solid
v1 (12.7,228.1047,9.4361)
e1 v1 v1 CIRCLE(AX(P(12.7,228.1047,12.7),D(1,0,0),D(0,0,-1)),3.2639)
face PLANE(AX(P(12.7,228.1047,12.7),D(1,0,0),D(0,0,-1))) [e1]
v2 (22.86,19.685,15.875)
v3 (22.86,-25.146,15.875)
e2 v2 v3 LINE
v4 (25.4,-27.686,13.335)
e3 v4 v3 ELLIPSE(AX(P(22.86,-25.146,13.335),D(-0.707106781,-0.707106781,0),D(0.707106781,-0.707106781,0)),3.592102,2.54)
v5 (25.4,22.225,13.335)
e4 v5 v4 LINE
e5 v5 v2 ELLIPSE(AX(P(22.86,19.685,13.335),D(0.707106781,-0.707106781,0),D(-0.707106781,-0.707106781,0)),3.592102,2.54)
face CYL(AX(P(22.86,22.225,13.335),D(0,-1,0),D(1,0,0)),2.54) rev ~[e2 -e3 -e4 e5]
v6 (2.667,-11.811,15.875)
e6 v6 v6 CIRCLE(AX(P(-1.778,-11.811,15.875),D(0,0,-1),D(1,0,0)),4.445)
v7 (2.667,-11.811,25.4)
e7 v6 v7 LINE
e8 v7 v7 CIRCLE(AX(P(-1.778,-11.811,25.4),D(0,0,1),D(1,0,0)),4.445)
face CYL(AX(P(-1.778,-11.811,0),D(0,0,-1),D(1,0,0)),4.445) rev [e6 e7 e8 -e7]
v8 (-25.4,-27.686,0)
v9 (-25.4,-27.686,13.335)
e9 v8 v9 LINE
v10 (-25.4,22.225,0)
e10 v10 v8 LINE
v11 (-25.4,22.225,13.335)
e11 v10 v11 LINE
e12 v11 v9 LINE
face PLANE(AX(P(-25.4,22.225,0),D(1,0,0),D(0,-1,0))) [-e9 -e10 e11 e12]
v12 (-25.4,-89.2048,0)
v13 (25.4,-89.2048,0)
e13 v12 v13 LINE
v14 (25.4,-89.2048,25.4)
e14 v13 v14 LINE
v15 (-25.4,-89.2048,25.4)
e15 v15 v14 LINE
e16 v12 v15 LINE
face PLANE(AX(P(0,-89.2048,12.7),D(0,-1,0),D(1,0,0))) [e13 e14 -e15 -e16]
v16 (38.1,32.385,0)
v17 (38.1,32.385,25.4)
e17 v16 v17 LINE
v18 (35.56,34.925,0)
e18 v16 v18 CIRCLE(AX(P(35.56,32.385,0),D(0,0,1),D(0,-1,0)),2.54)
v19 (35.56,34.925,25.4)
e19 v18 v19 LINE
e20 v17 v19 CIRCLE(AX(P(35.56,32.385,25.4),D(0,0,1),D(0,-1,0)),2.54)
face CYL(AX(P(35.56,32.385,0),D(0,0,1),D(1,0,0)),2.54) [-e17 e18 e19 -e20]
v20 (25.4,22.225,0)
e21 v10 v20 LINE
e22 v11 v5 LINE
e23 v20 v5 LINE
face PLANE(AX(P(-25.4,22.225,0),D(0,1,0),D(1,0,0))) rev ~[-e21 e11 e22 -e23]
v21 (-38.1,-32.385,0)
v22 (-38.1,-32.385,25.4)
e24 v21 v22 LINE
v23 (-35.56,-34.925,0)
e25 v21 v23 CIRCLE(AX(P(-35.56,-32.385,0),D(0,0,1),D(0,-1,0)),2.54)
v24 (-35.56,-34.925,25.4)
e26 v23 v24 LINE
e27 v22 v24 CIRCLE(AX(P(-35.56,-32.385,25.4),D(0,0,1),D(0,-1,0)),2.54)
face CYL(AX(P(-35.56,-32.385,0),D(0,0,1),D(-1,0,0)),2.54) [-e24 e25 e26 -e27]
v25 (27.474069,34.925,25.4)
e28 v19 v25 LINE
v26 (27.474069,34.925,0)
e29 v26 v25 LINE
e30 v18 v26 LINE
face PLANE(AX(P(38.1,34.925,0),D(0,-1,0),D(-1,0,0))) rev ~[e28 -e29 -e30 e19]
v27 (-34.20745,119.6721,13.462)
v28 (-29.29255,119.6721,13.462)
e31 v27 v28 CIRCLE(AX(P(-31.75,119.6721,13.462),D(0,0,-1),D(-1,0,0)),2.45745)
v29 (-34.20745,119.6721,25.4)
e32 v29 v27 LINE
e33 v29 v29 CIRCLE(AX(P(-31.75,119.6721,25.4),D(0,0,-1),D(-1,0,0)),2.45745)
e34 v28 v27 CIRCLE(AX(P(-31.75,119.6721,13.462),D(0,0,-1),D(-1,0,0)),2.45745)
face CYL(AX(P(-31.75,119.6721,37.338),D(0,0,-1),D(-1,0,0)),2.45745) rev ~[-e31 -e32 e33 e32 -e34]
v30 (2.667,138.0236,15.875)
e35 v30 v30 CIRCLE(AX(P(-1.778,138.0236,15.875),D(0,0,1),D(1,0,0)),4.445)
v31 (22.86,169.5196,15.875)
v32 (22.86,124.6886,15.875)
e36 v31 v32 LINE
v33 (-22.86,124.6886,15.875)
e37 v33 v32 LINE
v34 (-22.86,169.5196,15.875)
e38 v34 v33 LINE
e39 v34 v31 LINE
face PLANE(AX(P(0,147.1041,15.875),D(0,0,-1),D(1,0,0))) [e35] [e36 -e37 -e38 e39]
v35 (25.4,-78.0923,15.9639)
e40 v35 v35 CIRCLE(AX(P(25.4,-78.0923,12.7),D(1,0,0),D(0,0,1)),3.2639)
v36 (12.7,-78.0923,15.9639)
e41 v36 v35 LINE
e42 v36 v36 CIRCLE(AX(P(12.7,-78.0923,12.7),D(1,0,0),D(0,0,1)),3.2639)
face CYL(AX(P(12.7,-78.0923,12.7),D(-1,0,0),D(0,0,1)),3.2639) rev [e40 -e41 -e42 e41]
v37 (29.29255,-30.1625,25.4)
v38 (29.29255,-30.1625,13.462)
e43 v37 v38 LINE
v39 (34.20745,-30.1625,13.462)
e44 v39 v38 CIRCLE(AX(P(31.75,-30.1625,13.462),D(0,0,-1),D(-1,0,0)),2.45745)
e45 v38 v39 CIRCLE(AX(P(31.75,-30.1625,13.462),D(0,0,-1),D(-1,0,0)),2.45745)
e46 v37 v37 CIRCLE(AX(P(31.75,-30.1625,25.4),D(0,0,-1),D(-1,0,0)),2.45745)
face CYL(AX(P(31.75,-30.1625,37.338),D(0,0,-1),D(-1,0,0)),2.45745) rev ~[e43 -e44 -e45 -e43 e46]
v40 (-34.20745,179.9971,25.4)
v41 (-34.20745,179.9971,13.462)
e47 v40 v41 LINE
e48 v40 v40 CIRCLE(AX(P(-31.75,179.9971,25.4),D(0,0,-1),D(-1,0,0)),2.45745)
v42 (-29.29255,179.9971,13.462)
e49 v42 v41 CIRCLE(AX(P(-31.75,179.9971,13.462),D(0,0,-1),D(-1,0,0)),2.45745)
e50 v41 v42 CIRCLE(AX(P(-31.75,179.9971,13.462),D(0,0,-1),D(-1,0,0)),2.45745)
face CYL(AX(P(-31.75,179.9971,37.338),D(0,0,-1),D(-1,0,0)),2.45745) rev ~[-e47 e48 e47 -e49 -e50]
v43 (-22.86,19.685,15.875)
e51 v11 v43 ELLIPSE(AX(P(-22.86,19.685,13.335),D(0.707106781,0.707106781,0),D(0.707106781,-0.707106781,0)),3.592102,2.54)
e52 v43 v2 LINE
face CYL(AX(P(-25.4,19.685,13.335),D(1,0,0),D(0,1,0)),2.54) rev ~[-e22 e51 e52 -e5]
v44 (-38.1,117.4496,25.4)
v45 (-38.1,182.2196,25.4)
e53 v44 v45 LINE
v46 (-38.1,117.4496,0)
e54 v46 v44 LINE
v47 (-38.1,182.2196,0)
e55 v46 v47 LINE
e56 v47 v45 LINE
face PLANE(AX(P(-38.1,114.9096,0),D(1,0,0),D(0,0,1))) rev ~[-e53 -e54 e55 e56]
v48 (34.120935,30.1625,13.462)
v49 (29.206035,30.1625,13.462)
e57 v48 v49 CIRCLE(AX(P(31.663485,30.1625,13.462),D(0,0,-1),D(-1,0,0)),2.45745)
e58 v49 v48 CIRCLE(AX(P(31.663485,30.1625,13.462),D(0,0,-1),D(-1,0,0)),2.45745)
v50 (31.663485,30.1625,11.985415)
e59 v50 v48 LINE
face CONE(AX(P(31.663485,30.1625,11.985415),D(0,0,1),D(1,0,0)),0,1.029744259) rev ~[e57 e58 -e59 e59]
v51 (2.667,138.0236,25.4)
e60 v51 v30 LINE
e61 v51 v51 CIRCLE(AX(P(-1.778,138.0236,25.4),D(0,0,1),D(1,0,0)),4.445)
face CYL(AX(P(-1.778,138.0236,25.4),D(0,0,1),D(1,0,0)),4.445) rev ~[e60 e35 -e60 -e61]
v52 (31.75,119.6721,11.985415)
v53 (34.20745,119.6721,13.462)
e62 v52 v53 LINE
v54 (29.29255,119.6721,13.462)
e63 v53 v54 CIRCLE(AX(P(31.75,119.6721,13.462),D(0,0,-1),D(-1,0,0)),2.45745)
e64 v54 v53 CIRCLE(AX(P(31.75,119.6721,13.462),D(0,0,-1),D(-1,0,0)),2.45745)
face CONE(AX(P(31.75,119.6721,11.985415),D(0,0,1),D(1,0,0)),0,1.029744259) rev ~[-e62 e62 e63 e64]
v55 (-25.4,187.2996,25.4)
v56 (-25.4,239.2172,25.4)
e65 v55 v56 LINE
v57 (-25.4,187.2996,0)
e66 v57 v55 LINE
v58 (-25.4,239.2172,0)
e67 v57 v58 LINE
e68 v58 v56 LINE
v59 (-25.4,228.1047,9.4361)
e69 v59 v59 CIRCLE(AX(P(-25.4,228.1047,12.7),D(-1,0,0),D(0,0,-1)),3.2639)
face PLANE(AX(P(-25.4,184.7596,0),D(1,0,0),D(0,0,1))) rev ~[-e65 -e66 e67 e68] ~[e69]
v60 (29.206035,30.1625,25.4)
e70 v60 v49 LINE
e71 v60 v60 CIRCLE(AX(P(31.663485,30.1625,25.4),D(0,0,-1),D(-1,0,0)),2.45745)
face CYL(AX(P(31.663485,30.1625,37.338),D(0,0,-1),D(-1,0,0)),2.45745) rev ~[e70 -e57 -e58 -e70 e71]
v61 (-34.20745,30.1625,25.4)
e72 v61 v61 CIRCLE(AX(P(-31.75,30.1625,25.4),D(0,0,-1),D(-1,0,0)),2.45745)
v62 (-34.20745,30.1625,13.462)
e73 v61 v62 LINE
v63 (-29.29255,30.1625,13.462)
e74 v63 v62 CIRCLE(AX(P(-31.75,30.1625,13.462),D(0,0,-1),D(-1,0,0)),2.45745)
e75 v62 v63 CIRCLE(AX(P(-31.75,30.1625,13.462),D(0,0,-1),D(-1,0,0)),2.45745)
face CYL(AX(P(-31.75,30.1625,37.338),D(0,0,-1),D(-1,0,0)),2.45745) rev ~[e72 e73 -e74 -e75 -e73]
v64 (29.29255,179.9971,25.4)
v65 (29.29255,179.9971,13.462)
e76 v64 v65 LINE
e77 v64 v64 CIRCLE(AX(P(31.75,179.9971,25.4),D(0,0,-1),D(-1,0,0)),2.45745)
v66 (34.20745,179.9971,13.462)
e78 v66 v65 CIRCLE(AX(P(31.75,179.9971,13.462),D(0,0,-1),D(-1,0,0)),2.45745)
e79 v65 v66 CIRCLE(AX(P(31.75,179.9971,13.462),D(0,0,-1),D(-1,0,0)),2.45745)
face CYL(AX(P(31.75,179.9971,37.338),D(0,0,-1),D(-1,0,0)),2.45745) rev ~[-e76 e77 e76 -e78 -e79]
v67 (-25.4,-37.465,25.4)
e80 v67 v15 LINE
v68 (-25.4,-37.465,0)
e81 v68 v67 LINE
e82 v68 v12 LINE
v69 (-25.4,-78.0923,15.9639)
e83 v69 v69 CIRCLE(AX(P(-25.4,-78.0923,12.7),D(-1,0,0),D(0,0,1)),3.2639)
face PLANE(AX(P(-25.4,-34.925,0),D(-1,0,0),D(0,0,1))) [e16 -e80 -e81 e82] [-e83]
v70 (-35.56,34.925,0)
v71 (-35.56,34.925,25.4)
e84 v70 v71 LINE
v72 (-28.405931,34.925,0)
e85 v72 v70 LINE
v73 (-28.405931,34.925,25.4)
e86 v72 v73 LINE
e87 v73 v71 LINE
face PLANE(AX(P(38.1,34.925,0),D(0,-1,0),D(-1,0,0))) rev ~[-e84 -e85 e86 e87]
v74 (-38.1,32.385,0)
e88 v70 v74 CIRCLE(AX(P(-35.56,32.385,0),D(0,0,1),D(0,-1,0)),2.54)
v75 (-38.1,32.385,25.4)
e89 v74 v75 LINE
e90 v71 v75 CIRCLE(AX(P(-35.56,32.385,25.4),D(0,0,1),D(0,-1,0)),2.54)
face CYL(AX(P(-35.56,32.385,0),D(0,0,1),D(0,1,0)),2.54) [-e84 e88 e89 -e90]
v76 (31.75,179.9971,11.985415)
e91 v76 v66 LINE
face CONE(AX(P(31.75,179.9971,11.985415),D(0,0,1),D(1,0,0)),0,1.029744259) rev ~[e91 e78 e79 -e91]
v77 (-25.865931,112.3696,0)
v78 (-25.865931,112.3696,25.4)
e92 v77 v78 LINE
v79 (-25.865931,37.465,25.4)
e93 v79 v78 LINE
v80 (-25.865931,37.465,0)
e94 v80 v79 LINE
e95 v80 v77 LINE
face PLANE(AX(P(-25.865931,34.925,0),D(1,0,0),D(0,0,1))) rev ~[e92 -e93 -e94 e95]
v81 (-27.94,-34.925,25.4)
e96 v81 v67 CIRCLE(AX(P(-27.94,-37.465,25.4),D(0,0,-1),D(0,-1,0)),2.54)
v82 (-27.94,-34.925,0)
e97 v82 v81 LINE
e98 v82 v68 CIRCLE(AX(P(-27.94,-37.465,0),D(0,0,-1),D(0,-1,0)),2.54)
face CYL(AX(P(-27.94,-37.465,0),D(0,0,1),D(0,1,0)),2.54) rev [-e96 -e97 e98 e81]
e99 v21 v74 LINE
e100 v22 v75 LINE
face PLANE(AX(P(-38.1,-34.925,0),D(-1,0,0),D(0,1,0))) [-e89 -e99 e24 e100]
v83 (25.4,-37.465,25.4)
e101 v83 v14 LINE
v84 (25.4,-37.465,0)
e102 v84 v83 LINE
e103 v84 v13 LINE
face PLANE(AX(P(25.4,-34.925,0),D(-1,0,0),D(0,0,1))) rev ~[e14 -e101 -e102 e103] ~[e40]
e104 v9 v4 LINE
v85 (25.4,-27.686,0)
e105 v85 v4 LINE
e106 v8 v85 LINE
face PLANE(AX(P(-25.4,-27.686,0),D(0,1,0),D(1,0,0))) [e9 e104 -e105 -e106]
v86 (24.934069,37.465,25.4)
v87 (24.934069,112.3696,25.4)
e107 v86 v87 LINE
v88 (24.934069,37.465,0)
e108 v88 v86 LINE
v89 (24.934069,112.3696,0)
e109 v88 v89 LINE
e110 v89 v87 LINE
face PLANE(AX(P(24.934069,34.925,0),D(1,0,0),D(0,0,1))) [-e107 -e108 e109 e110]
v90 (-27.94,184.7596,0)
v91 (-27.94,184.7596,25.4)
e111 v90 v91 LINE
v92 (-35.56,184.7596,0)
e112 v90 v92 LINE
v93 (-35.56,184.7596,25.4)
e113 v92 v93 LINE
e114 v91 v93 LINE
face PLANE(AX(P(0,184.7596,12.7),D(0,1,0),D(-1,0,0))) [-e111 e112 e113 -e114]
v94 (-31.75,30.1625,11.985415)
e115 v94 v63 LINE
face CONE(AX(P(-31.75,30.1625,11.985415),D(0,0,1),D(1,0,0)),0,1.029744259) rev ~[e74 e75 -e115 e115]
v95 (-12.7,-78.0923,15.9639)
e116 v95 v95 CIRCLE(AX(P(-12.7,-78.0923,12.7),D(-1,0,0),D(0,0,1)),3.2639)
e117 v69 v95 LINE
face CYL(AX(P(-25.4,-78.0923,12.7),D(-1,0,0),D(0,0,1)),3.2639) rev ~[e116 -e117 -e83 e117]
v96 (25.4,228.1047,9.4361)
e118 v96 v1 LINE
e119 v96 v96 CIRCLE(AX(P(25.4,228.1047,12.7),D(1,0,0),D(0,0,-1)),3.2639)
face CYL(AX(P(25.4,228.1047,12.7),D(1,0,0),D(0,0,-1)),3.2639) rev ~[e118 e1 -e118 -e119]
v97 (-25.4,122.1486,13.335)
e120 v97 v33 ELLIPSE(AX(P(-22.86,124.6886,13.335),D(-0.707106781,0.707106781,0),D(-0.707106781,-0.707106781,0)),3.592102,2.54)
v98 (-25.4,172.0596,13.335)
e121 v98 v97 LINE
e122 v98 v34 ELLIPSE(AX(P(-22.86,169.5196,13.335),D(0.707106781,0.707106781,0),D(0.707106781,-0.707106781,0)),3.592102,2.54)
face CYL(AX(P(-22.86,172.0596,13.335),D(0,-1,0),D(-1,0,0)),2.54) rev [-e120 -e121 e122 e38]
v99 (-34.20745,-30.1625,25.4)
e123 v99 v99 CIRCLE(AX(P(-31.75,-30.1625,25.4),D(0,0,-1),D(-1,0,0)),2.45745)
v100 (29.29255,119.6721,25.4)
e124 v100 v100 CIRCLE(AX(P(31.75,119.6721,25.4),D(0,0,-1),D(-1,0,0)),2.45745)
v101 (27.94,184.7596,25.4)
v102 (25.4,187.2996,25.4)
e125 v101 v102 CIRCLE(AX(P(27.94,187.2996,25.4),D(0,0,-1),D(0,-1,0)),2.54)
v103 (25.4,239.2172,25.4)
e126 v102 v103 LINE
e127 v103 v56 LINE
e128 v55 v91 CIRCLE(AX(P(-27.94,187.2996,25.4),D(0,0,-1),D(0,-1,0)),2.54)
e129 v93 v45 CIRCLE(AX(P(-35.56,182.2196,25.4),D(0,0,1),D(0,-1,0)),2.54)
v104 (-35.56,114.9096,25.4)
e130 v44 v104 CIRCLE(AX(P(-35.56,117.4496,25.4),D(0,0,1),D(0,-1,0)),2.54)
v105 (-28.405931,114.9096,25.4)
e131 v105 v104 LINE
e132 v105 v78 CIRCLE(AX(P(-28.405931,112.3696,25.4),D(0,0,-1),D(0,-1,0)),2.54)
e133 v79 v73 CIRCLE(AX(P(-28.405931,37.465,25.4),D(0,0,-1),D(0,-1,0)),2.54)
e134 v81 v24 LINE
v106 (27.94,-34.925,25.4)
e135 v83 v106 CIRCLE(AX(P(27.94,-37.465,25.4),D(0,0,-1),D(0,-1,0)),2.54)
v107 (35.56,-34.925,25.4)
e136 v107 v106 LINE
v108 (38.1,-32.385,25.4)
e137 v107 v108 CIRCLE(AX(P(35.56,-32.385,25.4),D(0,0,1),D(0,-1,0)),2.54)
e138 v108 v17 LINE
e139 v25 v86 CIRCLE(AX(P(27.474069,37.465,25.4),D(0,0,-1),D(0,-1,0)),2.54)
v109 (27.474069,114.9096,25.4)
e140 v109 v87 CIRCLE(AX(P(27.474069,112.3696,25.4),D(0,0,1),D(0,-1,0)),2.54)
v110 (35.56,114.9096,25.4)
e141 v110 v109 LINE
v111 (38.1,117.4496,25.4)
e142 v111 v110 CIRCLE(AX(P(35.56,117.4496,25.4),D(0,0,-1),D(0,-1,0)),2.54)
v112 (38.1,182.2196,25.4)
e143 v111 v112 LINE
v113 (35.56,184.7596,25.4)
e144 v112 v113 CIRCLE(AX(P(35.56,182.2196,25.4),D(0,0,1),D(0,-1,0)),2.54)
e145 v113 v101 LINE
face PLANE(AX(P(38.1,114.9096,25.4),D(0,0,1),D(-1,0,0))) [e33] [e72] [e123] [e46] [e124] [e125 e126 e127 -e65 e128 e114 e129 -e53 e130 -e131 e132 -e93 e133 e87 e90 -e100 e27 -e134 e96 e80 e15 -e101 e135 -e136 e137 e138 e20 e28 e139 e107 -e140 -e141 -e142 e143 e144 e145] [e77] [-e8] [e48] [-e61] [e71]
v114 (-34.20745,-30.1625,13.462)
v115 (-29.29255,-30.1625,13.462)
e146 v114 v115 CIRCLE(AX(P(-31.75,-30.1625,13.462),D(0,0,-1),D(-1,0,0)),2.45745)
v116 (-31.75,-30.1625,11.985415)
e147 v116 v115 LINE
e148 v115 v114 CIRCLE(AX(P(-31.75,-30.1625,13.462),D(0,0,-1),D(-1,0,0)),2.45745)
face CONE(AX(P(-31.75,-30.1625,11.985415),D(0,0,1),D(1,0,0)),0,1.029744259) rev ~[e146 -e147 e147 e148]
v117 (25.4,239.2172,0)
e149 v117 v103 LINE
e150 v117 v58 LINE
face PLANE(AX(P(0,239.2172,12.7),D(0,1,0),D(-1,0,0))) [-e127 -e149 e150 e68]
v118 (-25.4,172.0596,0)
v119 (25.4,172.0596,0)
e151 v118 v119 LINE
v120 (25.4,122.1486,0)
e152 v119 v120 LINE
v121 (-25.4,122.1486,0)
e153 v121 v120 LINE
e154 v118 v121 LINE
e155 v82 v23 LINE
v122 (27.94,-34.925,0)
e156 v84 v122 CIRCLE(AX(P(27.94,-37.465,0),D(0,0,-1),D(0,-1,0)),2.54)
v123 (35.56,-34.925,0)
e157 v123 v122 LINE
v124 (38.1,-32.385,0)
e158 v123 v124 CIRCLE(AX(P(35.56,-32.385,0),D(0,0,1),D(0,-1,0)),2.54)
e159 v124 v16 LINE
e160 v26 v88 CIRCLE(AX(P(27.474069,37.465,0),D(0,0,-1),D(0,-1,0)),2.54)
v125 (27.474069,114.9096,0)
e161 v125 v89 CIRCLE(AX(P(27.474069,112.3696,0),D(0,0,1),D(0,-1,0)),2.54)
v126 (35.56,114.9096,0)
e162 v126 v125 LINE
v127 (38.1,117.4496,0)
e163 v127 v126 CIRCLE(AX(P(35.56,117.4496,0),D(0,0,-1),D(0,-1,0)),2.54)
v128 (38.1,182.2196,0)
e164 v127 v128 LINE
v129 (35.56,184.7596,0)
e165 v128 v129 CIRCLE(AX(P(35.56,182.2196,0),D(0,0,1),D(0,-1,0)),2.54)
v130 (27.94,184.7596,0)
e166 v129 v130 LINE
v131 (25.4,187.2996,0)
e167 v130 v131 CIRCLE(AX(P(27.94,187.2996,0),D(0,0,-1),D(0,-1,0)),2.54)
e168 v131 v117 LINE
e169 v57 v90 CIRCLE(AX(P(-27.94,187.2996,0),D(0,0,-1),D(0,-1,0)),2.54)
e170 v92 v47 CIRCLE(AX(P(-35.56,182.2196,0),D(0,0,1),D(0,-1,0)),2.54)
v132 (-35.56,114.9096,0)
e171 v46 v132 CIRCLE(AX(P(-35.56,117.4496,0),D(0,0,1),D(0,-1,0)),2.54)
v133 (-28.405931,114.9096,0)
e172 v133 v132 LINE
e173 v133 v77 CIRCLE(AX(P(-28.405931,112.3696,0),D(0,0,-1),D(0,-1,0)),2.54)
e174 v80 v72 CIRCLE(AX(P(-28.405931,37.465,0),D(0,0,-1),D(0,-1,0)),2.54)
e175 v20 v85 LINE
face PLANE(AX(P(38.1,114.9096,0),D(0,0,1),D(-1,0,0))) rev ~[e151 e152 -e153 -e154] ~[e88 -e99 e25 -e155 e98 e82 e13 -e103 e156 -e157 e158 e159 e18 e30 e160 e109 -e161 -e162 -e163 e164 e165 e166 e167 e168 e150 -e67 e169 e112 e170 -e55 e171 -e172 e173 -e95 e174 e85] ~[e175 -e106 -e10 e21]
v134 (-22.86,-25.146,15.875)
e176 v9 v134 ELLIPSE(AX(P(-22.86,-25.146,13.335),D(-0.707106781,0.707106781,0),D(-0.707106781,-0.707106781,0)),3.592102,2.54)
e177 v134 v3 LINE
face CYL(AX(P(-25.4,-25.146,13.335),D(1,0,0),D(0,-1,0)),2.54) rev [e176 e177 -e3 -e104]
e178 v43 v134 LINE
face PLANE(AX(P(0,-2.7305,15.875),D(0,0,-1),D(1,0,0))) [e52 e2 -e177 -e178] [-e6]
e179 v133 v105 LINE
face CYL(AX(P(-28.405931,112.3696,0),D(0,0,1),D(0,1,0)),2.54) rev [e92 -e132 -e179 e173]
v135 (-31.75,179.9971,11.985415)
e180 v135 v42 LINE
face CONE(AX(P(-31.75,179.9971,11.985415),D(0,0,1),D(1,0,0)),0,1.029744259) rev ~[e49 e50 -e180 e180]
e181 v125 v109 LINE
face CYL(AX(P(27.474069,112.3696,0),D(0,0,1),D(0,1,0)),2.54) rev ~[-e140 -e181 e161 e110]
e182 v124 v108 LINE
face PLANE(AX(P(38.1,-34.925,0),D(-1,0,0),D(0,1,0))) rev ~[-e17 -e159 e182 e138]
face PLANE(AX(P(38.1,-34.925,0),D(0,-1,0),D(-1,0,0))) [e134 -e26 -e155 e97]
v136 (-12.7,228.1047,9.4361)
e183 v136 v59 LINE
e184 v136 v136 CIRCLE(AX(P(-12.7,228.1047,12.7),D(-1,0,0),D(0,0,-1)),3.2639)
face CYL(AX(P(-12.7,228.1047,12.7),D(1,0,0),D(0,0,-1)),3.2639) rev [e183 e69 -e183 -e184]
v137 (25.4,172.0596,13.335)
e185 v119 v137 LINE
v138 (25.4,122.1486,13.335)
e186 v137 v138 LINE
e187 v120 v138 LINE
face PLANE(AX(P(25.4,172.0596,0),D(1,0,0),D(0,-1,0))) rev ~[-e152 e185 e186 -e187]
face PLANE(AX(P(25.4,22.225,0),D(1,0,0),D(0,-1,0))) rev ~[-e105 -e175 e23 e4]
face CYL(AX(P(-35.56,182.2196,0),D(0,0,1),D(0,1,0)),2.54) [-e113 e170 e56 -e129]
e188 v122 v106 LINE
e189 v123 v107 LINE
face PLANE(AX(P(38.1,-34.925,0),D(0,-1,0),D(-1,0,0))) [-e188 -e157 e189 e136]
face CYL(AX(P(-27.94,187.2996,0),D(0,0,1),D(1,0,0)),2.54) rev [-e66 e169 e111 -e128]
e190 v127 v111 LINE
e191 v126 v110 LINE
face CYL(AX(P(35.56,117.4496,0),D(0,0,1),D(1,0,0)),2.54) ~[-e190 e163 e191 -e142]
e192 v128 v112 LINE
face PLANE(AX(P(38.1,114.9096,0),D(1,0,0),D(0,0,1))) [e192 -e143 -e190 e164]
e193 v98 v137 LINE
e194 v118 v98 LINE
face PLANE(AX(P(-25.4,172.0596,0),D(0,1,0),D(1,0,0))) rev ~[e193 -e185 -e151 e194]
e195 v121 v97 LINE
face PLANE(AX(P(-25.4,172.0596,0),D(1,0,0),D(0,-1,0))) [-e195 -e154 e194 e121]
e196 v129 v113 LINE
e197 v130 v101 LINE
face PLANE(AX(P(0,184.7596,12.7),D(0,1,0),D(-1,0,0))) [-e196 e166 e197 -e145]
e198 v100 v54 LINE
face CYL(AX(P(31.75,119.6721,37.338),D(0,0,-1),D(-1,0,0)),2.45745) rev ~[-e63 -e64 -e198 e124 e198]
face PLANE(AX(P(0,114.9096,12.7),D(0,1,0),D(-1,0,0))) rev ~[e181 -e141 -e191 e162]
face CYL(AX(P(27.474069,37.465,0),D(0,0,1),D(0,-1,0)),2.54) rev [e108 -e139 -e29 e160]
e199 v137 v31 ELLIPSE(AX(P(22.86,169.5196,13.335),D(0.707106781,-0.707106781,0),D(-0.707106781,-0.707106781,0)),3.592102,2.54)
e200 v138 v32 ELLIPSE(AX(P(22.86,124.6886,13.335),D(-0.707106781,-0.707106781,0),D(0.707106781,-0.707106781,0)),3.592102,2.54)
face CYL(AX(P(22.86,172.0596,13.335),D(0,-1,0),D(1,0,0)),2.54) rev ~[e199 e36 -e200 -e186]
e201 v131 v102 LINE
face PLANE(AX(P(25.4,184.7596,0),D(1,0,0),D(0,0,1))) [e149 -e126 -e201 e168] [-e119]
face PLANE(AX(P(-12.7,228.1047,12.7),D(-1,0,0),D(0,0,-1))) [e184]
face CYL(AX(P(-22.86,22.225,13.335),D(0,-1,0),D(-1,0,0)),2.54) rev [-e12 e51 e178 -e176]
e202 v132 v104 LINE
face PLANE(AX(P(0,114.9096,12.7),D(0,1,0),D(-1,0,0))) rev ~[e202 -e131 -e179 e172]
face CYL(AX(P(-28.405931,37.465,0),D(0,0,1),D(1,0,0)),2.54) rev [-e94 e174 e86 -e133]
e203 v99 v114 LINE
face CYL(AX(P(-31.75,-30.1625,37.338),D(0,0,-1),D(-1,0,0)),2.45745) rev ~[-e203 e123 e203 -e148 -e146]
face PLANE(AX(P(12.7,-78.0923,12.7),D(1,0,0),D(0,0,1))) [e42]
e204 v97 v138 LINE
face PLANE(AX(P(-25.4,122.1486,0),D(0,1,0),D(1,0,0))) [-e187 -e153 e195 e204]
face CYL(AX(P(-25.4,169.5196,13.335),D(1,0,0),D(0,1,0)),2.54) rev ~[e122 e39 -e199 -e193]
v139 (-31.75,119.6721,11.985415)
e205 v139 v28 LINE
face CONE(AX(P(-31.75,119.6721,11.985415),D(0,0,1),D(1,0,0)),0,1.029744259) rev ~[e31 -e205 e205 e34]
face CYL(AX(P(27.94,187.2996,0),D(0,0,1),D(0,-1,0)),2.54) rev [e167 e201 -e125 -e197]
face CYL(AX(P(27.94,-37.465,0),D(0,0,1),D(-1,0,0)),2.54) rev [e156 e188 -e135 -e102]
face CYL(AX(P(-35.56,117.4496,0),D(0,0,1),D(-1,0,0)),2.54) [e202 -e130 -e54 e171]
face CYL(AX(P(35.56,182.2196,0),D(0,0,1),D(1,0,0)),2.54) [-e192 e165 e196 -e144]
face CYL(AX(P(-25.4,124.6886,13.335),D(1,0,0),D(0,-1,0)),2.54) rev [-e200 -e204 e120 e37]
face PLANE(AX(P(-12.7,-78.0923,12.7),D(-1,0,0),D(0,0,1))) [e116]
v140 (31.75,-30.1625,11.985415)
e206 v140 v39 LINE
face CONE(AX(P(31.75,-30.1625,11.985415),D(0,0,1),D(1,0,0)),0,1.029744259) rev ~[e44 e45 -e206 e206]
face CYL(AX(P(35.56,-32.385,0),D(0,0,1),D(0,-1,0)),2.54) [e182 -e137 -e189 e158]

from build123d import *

# Parameters (mm, degrees)
SKETCH1_W                        = 69.85
SKETCH1_H                        = 76.2
SKETCH1_R                        = 4.445
BOSS_EXTRUDE1_DEPTH              = 25.4
SKETCH2_W                        = 50.8
SKETCH2_H                        = 49.911
CUT_EXTRUDE1_DEPTH               = 15.875
SKETCH4_W                        = 50.8
SKETCH4_H                        = 25.4
BOSS_EXTRUDE2_DEPTH              = 79.9846
SKETCH7_W                        = 76.2
SKETCH7_H                        = 25.4
BOSS_EXTRUDE5_DEPTH              = 69.85
SKETCH10_R                       = 4.445
CUT_EXTRUDE3_DEPTH               = 191.349362468
SKETCH11_W                       = 50.8
SKETCH11_H                       = 49.911
CUT_EXTRUDE4_DEPTH               = 15.875
SKETCH12_W                       = 50.8
SKETCH12_H                       = 25.4
BOSS_EXTRUDE7_DEPTH              = 54.4576
SKETCH13_W                       = 50.8
SKETCH13_H                       = 25.4
BOSS_EXTRUDE8_DEPTH              = 54.2798
F_10_0_1935_DIAMETER_HOLE2_D     = 4.9149
F_10_0_1935_DIAMETER_HOLE2_DEPTH = 11.938
F_10_0_1935_DIAMETER_HOLE2_TIP   = 1.476584928
SKETCH18_R                       = 3.2639
CUT_EXTRUDE5_DEPTH               = 12.7
CUT_EXTRUDE6_START               = -12.7
SKETCH19_R                       = 3.2639
CUT_EXTRUDE6_DEPTH               = 12.7
SKETCH20_R                       = 3.2639
CUT_EXTRUDE7_DEPTH               = 12.7
CUT_EXTRUDE8_START               = -12.7
SKETCH21_R                       = 3.2639
CUT_EXTRUDE8_DEPTH               = 12.7
F_10_0_1935_DIAMETER_HOLE3_D     = 4.9149
F_10_0_1935_DIAMETER_HOLE3_DEPTH = 11.938
F_10_0_1935_DIAMETER_HOLE3_TIP   = 1.476584928
FILLET1_R                        = 2.54
FILLET2_R                        = 2.54


with BuildPart() as part:
    # Sketch1 → Boss-Extrude1 (new body)
    with BuildSketch(Plane(origin=(0, 0, 0), x_dir=(0, 1, 0), z_dir=(0, 0, 1))):
        Rectangle(SKETCH1_W, SKETCH1_H)
        with Locations(Location((-11.811, 1.778, 0), (0, 0, 270))):
            Circle(SKETCH1_R, mode=Mode.SUBTRACT)
    extrude(amount=BOSS_EXTRUDE1_DEPTH)

    # Sketch2 → Cut-Extrude1 (cut)
    with BuildSketch(Plane(origin=(0, 0, 0), x_dir=(1, 0, 0), z_dir=(0, 0, -1))):
        with Locations((0, 2.7305)):
            Rectangle(SKETCH2_W, SKETCH2_H)
    extrude(amount=-CUT_EXTRUDE1_DEPTH, mode=Mode.SUBTRACT)

    # Sketch4 → Boss-Extrude2 (add)
    with BuildSketch(Plane(origin=(0, 34.925, 0), x_dir=(-1, 0, 0), z_dir=(0, 1, 0))):
        with Locations((0.465931196, 12.7)):
            Rectangle(SKETCH4_W, SKETCH4_H)
    extrude(amount=BOSS_EXTRUDE2_DEPTH)

    # Sketch7 → Boss-Extrude5 (add)
    with BuildSketch(Plane(origin=(0, 114.9096, 0), x_dir=(-1, 0, 0), z_dir=(0, 1, 0))):
        with Locations((0, 12.7)):
            Rectangle(SKETCH7_W, SKETCH7_H)
    extrude(amount=BOSS_EXTRUDE5_DEPTH)

    # Sketch10 → Cut-Extrude3 (cut, through all)
    with BuildSketch(Plane.XY.offset(25.4)):
        with Locations((-1.778, 138.0236)):
            Circle(SKETCH10_R)
    extrude(amount=-CUT_EXTRUDE3_DEPTH, mode=Mode.SUBTRACT)

    # Sketch11 → Cut-Extrude4 (cut)
    with BuildSketch(Plane(origin=(0, 0, 0), x_dir=(1, 0, 0), z_dir=(0, 0, -1))):
        with Locations((0, -147.1041)):
            Rectangle(SKETCH11_W, SKETCH11_H)
    extrude(amount=-CUT_EXTRUDE4_DEPTH, mode=Mode.SUBTRACT)

    # Sketch12 → Boss-Extrude7 (add)
    with BuildSketch(Plane(origin=(0, 184.7596, 0), x_dir=(-1, 0, 0), z_dir=(0, 1, 0))):
        with Locations((0, 12.7)):
            Rectangle(SKETCH12_W, SKETCH12_H)
    extrude(amount=BOSS_EXTRUDE7_DEPTH)

    # Sketch13 → Boss-Extrude8 (add)
    with BuildSketch(Plane.XZ.offset(34.925)):
        with Locations((0, 12.7)):
            Rectangle(SKETCH13_W, SKETCH13_H)
    extrude(amount=BOSS_EXTRUDE8_DEPTH)

    # #10 (0.1935) Diameter Hole2
    with Locations(Plane.XY.offset(25.4)):
        with Locations((31.75, 119.6721), (31.75, 179.9971), (-31.75, 179.9971), (-31.75, 119.6721)):
            Hole(F_10_0_1935_DIAMETER_HOLE2_D / 2, depth=F_10_0_1935_DIAMETER_HOLE2_DEPTH)
            with Locations((0, 0, -(F_10_0_1935_DIAMETER_HOLE2_DEPTH + F_10_0_1935_DIAMETER_HOLE2_TIP / 2))):  # 118° drill point
                Cone(0, F_10_0_1935_DIAMETER_HOLE2_D / 2, F_10_0_1935_DIAMETER_HOLE2_TIP, mode=Mode.SUBTRACT)

    # Sketch18 → Cut-Extrude5 (cut)
    with BuildSketch(Plane.YZ.offset(25.4)):
        with Locations(Location((228.1047, 12.7, 0), (0, 0, 270))):
            Circle(SKETCH18_R)
    extrude(amount=-CUT_EXTRUDE5_DEPTH, mode=Mode.SUBTRACT)

    # Sketch19 → Cut-Extrude6 (cut)
    with BuildSketch(Plane(origin=(-25.4, 0, 0), x_dir=(0, -1, 0), z_dir=(-1, 0, 0)).offset(CUT_EXTRUDE6_START)):
        with Locations(Location((-228.1047, 12.7, 0), (0, 0, 270))):
            Circle(SKETCH19_R)
    extrude(amount=CUT_EXTRUDE6_DEPTH, mode=Mode.SUBTRACT)

    # Sketch20 → Cut-Extrude7 (cut)
    with BuildSketch(Plane(origin=(-25.4, 0, 0), x_dir=(0, -1, 0), z_dir=(-1, 0, 0))):
        with Locations(Location((78.0923, 12.7, 0), (0, 0, 90))):
            Circle(SKETCH20_R)
    extrude(amount=-CUT_EXTRUDE7_DEPTH, mode=Mode.SUBTRACT)

    # Sketch21 → Cut-Extrude8 (cut)
    with BuildSketch(Plane.YZ.offset(25.4).offset(CUT_EXTRUDE8_START)):
        with Locations(Location((-78.0923, 12.7, 0), (0, 0, 90))):
            Circle(SKETCH21_R)
    extrude(amount=CUT_EXTRUDE8_DEPTH, mode=Mode.SUBTRACT)

    # #10 (0.1935) Diameter Hole3
    with Locations(Plane.XY.offset(25.4)):
        with Locations((31.75, -30.1625), (31.663484949, 30.1625), (-31.75, 30.1625), (-31.75, -30.1625)):
            Hole(F_10_0_1935_DIAMETER_HOLE3_D / 2, depth=F_10_0_1935_DIAMETER_HOLE3_DEPTH)
            with Locations((0, 0, -(F_10_0_1935_DIAMETER_HOLE3_DEPTH + F_10_0_1935_DIAMETER_HOLE3_TIP / 2))):  # 118° drill point
                Cone(0, F_10_0_1935_DIAMETER_HOLE3_D / 2, F_10_0_1935_DIAMETER_HOLE3_TIP, mode=Mode.SUBTRACT)

    # Fillet1
    fillet1_edges = [part.edges().sort_by_distance(p)[0] for p in [
        (-25.4, -34.925, 12.7),
        (25.4, -34.925, 12.7),
        (24.934068804, 34.925, 12.7),
        (-25.865931196, 34.925, 12.7),
        (24.934068804, 114.9096, 12.7),
        (-25.865931196, 114.9096, 12.7),
        (38.1, 114.9096, 12.7),
        (-38.1, 114.9096, 12.7),
        (38.1, 184.7596, 12.7),
        (-38.1, 184.7596, 12.7),
        (38.1, 34.925, 12.7),
        (38.1, -34.925, 12.7),
        (-38.1, -34.925, 12.7),
        (-38.1, 34.925, 12.7),
        (25.4, 184.7596, 12.7),
        (-25.4, 184.7596, 12.7),
    ]]
    fillet(fillet1_edges, radius=FILLET1_R)

    # Fillet2
    fillet2_edges = [part.edges().sort_by_distance(p)[0] for p in [
        (-25.4, -2.7305, 15.875),
        (0, -27.686, 15.875),
        (25.4, -2.7305, 15.875),
        (0, 22.225, 15.875),
        (-25.4, 147.1041, 15.875),
        (0, 122.1486, 15.875),
        (25.4, 147.1041, 15.875),
        (0, 172.0596, 15.875),
    ]]
    fillet(fillet2_edges, radius=FILLET2_R)


solid = part.part
